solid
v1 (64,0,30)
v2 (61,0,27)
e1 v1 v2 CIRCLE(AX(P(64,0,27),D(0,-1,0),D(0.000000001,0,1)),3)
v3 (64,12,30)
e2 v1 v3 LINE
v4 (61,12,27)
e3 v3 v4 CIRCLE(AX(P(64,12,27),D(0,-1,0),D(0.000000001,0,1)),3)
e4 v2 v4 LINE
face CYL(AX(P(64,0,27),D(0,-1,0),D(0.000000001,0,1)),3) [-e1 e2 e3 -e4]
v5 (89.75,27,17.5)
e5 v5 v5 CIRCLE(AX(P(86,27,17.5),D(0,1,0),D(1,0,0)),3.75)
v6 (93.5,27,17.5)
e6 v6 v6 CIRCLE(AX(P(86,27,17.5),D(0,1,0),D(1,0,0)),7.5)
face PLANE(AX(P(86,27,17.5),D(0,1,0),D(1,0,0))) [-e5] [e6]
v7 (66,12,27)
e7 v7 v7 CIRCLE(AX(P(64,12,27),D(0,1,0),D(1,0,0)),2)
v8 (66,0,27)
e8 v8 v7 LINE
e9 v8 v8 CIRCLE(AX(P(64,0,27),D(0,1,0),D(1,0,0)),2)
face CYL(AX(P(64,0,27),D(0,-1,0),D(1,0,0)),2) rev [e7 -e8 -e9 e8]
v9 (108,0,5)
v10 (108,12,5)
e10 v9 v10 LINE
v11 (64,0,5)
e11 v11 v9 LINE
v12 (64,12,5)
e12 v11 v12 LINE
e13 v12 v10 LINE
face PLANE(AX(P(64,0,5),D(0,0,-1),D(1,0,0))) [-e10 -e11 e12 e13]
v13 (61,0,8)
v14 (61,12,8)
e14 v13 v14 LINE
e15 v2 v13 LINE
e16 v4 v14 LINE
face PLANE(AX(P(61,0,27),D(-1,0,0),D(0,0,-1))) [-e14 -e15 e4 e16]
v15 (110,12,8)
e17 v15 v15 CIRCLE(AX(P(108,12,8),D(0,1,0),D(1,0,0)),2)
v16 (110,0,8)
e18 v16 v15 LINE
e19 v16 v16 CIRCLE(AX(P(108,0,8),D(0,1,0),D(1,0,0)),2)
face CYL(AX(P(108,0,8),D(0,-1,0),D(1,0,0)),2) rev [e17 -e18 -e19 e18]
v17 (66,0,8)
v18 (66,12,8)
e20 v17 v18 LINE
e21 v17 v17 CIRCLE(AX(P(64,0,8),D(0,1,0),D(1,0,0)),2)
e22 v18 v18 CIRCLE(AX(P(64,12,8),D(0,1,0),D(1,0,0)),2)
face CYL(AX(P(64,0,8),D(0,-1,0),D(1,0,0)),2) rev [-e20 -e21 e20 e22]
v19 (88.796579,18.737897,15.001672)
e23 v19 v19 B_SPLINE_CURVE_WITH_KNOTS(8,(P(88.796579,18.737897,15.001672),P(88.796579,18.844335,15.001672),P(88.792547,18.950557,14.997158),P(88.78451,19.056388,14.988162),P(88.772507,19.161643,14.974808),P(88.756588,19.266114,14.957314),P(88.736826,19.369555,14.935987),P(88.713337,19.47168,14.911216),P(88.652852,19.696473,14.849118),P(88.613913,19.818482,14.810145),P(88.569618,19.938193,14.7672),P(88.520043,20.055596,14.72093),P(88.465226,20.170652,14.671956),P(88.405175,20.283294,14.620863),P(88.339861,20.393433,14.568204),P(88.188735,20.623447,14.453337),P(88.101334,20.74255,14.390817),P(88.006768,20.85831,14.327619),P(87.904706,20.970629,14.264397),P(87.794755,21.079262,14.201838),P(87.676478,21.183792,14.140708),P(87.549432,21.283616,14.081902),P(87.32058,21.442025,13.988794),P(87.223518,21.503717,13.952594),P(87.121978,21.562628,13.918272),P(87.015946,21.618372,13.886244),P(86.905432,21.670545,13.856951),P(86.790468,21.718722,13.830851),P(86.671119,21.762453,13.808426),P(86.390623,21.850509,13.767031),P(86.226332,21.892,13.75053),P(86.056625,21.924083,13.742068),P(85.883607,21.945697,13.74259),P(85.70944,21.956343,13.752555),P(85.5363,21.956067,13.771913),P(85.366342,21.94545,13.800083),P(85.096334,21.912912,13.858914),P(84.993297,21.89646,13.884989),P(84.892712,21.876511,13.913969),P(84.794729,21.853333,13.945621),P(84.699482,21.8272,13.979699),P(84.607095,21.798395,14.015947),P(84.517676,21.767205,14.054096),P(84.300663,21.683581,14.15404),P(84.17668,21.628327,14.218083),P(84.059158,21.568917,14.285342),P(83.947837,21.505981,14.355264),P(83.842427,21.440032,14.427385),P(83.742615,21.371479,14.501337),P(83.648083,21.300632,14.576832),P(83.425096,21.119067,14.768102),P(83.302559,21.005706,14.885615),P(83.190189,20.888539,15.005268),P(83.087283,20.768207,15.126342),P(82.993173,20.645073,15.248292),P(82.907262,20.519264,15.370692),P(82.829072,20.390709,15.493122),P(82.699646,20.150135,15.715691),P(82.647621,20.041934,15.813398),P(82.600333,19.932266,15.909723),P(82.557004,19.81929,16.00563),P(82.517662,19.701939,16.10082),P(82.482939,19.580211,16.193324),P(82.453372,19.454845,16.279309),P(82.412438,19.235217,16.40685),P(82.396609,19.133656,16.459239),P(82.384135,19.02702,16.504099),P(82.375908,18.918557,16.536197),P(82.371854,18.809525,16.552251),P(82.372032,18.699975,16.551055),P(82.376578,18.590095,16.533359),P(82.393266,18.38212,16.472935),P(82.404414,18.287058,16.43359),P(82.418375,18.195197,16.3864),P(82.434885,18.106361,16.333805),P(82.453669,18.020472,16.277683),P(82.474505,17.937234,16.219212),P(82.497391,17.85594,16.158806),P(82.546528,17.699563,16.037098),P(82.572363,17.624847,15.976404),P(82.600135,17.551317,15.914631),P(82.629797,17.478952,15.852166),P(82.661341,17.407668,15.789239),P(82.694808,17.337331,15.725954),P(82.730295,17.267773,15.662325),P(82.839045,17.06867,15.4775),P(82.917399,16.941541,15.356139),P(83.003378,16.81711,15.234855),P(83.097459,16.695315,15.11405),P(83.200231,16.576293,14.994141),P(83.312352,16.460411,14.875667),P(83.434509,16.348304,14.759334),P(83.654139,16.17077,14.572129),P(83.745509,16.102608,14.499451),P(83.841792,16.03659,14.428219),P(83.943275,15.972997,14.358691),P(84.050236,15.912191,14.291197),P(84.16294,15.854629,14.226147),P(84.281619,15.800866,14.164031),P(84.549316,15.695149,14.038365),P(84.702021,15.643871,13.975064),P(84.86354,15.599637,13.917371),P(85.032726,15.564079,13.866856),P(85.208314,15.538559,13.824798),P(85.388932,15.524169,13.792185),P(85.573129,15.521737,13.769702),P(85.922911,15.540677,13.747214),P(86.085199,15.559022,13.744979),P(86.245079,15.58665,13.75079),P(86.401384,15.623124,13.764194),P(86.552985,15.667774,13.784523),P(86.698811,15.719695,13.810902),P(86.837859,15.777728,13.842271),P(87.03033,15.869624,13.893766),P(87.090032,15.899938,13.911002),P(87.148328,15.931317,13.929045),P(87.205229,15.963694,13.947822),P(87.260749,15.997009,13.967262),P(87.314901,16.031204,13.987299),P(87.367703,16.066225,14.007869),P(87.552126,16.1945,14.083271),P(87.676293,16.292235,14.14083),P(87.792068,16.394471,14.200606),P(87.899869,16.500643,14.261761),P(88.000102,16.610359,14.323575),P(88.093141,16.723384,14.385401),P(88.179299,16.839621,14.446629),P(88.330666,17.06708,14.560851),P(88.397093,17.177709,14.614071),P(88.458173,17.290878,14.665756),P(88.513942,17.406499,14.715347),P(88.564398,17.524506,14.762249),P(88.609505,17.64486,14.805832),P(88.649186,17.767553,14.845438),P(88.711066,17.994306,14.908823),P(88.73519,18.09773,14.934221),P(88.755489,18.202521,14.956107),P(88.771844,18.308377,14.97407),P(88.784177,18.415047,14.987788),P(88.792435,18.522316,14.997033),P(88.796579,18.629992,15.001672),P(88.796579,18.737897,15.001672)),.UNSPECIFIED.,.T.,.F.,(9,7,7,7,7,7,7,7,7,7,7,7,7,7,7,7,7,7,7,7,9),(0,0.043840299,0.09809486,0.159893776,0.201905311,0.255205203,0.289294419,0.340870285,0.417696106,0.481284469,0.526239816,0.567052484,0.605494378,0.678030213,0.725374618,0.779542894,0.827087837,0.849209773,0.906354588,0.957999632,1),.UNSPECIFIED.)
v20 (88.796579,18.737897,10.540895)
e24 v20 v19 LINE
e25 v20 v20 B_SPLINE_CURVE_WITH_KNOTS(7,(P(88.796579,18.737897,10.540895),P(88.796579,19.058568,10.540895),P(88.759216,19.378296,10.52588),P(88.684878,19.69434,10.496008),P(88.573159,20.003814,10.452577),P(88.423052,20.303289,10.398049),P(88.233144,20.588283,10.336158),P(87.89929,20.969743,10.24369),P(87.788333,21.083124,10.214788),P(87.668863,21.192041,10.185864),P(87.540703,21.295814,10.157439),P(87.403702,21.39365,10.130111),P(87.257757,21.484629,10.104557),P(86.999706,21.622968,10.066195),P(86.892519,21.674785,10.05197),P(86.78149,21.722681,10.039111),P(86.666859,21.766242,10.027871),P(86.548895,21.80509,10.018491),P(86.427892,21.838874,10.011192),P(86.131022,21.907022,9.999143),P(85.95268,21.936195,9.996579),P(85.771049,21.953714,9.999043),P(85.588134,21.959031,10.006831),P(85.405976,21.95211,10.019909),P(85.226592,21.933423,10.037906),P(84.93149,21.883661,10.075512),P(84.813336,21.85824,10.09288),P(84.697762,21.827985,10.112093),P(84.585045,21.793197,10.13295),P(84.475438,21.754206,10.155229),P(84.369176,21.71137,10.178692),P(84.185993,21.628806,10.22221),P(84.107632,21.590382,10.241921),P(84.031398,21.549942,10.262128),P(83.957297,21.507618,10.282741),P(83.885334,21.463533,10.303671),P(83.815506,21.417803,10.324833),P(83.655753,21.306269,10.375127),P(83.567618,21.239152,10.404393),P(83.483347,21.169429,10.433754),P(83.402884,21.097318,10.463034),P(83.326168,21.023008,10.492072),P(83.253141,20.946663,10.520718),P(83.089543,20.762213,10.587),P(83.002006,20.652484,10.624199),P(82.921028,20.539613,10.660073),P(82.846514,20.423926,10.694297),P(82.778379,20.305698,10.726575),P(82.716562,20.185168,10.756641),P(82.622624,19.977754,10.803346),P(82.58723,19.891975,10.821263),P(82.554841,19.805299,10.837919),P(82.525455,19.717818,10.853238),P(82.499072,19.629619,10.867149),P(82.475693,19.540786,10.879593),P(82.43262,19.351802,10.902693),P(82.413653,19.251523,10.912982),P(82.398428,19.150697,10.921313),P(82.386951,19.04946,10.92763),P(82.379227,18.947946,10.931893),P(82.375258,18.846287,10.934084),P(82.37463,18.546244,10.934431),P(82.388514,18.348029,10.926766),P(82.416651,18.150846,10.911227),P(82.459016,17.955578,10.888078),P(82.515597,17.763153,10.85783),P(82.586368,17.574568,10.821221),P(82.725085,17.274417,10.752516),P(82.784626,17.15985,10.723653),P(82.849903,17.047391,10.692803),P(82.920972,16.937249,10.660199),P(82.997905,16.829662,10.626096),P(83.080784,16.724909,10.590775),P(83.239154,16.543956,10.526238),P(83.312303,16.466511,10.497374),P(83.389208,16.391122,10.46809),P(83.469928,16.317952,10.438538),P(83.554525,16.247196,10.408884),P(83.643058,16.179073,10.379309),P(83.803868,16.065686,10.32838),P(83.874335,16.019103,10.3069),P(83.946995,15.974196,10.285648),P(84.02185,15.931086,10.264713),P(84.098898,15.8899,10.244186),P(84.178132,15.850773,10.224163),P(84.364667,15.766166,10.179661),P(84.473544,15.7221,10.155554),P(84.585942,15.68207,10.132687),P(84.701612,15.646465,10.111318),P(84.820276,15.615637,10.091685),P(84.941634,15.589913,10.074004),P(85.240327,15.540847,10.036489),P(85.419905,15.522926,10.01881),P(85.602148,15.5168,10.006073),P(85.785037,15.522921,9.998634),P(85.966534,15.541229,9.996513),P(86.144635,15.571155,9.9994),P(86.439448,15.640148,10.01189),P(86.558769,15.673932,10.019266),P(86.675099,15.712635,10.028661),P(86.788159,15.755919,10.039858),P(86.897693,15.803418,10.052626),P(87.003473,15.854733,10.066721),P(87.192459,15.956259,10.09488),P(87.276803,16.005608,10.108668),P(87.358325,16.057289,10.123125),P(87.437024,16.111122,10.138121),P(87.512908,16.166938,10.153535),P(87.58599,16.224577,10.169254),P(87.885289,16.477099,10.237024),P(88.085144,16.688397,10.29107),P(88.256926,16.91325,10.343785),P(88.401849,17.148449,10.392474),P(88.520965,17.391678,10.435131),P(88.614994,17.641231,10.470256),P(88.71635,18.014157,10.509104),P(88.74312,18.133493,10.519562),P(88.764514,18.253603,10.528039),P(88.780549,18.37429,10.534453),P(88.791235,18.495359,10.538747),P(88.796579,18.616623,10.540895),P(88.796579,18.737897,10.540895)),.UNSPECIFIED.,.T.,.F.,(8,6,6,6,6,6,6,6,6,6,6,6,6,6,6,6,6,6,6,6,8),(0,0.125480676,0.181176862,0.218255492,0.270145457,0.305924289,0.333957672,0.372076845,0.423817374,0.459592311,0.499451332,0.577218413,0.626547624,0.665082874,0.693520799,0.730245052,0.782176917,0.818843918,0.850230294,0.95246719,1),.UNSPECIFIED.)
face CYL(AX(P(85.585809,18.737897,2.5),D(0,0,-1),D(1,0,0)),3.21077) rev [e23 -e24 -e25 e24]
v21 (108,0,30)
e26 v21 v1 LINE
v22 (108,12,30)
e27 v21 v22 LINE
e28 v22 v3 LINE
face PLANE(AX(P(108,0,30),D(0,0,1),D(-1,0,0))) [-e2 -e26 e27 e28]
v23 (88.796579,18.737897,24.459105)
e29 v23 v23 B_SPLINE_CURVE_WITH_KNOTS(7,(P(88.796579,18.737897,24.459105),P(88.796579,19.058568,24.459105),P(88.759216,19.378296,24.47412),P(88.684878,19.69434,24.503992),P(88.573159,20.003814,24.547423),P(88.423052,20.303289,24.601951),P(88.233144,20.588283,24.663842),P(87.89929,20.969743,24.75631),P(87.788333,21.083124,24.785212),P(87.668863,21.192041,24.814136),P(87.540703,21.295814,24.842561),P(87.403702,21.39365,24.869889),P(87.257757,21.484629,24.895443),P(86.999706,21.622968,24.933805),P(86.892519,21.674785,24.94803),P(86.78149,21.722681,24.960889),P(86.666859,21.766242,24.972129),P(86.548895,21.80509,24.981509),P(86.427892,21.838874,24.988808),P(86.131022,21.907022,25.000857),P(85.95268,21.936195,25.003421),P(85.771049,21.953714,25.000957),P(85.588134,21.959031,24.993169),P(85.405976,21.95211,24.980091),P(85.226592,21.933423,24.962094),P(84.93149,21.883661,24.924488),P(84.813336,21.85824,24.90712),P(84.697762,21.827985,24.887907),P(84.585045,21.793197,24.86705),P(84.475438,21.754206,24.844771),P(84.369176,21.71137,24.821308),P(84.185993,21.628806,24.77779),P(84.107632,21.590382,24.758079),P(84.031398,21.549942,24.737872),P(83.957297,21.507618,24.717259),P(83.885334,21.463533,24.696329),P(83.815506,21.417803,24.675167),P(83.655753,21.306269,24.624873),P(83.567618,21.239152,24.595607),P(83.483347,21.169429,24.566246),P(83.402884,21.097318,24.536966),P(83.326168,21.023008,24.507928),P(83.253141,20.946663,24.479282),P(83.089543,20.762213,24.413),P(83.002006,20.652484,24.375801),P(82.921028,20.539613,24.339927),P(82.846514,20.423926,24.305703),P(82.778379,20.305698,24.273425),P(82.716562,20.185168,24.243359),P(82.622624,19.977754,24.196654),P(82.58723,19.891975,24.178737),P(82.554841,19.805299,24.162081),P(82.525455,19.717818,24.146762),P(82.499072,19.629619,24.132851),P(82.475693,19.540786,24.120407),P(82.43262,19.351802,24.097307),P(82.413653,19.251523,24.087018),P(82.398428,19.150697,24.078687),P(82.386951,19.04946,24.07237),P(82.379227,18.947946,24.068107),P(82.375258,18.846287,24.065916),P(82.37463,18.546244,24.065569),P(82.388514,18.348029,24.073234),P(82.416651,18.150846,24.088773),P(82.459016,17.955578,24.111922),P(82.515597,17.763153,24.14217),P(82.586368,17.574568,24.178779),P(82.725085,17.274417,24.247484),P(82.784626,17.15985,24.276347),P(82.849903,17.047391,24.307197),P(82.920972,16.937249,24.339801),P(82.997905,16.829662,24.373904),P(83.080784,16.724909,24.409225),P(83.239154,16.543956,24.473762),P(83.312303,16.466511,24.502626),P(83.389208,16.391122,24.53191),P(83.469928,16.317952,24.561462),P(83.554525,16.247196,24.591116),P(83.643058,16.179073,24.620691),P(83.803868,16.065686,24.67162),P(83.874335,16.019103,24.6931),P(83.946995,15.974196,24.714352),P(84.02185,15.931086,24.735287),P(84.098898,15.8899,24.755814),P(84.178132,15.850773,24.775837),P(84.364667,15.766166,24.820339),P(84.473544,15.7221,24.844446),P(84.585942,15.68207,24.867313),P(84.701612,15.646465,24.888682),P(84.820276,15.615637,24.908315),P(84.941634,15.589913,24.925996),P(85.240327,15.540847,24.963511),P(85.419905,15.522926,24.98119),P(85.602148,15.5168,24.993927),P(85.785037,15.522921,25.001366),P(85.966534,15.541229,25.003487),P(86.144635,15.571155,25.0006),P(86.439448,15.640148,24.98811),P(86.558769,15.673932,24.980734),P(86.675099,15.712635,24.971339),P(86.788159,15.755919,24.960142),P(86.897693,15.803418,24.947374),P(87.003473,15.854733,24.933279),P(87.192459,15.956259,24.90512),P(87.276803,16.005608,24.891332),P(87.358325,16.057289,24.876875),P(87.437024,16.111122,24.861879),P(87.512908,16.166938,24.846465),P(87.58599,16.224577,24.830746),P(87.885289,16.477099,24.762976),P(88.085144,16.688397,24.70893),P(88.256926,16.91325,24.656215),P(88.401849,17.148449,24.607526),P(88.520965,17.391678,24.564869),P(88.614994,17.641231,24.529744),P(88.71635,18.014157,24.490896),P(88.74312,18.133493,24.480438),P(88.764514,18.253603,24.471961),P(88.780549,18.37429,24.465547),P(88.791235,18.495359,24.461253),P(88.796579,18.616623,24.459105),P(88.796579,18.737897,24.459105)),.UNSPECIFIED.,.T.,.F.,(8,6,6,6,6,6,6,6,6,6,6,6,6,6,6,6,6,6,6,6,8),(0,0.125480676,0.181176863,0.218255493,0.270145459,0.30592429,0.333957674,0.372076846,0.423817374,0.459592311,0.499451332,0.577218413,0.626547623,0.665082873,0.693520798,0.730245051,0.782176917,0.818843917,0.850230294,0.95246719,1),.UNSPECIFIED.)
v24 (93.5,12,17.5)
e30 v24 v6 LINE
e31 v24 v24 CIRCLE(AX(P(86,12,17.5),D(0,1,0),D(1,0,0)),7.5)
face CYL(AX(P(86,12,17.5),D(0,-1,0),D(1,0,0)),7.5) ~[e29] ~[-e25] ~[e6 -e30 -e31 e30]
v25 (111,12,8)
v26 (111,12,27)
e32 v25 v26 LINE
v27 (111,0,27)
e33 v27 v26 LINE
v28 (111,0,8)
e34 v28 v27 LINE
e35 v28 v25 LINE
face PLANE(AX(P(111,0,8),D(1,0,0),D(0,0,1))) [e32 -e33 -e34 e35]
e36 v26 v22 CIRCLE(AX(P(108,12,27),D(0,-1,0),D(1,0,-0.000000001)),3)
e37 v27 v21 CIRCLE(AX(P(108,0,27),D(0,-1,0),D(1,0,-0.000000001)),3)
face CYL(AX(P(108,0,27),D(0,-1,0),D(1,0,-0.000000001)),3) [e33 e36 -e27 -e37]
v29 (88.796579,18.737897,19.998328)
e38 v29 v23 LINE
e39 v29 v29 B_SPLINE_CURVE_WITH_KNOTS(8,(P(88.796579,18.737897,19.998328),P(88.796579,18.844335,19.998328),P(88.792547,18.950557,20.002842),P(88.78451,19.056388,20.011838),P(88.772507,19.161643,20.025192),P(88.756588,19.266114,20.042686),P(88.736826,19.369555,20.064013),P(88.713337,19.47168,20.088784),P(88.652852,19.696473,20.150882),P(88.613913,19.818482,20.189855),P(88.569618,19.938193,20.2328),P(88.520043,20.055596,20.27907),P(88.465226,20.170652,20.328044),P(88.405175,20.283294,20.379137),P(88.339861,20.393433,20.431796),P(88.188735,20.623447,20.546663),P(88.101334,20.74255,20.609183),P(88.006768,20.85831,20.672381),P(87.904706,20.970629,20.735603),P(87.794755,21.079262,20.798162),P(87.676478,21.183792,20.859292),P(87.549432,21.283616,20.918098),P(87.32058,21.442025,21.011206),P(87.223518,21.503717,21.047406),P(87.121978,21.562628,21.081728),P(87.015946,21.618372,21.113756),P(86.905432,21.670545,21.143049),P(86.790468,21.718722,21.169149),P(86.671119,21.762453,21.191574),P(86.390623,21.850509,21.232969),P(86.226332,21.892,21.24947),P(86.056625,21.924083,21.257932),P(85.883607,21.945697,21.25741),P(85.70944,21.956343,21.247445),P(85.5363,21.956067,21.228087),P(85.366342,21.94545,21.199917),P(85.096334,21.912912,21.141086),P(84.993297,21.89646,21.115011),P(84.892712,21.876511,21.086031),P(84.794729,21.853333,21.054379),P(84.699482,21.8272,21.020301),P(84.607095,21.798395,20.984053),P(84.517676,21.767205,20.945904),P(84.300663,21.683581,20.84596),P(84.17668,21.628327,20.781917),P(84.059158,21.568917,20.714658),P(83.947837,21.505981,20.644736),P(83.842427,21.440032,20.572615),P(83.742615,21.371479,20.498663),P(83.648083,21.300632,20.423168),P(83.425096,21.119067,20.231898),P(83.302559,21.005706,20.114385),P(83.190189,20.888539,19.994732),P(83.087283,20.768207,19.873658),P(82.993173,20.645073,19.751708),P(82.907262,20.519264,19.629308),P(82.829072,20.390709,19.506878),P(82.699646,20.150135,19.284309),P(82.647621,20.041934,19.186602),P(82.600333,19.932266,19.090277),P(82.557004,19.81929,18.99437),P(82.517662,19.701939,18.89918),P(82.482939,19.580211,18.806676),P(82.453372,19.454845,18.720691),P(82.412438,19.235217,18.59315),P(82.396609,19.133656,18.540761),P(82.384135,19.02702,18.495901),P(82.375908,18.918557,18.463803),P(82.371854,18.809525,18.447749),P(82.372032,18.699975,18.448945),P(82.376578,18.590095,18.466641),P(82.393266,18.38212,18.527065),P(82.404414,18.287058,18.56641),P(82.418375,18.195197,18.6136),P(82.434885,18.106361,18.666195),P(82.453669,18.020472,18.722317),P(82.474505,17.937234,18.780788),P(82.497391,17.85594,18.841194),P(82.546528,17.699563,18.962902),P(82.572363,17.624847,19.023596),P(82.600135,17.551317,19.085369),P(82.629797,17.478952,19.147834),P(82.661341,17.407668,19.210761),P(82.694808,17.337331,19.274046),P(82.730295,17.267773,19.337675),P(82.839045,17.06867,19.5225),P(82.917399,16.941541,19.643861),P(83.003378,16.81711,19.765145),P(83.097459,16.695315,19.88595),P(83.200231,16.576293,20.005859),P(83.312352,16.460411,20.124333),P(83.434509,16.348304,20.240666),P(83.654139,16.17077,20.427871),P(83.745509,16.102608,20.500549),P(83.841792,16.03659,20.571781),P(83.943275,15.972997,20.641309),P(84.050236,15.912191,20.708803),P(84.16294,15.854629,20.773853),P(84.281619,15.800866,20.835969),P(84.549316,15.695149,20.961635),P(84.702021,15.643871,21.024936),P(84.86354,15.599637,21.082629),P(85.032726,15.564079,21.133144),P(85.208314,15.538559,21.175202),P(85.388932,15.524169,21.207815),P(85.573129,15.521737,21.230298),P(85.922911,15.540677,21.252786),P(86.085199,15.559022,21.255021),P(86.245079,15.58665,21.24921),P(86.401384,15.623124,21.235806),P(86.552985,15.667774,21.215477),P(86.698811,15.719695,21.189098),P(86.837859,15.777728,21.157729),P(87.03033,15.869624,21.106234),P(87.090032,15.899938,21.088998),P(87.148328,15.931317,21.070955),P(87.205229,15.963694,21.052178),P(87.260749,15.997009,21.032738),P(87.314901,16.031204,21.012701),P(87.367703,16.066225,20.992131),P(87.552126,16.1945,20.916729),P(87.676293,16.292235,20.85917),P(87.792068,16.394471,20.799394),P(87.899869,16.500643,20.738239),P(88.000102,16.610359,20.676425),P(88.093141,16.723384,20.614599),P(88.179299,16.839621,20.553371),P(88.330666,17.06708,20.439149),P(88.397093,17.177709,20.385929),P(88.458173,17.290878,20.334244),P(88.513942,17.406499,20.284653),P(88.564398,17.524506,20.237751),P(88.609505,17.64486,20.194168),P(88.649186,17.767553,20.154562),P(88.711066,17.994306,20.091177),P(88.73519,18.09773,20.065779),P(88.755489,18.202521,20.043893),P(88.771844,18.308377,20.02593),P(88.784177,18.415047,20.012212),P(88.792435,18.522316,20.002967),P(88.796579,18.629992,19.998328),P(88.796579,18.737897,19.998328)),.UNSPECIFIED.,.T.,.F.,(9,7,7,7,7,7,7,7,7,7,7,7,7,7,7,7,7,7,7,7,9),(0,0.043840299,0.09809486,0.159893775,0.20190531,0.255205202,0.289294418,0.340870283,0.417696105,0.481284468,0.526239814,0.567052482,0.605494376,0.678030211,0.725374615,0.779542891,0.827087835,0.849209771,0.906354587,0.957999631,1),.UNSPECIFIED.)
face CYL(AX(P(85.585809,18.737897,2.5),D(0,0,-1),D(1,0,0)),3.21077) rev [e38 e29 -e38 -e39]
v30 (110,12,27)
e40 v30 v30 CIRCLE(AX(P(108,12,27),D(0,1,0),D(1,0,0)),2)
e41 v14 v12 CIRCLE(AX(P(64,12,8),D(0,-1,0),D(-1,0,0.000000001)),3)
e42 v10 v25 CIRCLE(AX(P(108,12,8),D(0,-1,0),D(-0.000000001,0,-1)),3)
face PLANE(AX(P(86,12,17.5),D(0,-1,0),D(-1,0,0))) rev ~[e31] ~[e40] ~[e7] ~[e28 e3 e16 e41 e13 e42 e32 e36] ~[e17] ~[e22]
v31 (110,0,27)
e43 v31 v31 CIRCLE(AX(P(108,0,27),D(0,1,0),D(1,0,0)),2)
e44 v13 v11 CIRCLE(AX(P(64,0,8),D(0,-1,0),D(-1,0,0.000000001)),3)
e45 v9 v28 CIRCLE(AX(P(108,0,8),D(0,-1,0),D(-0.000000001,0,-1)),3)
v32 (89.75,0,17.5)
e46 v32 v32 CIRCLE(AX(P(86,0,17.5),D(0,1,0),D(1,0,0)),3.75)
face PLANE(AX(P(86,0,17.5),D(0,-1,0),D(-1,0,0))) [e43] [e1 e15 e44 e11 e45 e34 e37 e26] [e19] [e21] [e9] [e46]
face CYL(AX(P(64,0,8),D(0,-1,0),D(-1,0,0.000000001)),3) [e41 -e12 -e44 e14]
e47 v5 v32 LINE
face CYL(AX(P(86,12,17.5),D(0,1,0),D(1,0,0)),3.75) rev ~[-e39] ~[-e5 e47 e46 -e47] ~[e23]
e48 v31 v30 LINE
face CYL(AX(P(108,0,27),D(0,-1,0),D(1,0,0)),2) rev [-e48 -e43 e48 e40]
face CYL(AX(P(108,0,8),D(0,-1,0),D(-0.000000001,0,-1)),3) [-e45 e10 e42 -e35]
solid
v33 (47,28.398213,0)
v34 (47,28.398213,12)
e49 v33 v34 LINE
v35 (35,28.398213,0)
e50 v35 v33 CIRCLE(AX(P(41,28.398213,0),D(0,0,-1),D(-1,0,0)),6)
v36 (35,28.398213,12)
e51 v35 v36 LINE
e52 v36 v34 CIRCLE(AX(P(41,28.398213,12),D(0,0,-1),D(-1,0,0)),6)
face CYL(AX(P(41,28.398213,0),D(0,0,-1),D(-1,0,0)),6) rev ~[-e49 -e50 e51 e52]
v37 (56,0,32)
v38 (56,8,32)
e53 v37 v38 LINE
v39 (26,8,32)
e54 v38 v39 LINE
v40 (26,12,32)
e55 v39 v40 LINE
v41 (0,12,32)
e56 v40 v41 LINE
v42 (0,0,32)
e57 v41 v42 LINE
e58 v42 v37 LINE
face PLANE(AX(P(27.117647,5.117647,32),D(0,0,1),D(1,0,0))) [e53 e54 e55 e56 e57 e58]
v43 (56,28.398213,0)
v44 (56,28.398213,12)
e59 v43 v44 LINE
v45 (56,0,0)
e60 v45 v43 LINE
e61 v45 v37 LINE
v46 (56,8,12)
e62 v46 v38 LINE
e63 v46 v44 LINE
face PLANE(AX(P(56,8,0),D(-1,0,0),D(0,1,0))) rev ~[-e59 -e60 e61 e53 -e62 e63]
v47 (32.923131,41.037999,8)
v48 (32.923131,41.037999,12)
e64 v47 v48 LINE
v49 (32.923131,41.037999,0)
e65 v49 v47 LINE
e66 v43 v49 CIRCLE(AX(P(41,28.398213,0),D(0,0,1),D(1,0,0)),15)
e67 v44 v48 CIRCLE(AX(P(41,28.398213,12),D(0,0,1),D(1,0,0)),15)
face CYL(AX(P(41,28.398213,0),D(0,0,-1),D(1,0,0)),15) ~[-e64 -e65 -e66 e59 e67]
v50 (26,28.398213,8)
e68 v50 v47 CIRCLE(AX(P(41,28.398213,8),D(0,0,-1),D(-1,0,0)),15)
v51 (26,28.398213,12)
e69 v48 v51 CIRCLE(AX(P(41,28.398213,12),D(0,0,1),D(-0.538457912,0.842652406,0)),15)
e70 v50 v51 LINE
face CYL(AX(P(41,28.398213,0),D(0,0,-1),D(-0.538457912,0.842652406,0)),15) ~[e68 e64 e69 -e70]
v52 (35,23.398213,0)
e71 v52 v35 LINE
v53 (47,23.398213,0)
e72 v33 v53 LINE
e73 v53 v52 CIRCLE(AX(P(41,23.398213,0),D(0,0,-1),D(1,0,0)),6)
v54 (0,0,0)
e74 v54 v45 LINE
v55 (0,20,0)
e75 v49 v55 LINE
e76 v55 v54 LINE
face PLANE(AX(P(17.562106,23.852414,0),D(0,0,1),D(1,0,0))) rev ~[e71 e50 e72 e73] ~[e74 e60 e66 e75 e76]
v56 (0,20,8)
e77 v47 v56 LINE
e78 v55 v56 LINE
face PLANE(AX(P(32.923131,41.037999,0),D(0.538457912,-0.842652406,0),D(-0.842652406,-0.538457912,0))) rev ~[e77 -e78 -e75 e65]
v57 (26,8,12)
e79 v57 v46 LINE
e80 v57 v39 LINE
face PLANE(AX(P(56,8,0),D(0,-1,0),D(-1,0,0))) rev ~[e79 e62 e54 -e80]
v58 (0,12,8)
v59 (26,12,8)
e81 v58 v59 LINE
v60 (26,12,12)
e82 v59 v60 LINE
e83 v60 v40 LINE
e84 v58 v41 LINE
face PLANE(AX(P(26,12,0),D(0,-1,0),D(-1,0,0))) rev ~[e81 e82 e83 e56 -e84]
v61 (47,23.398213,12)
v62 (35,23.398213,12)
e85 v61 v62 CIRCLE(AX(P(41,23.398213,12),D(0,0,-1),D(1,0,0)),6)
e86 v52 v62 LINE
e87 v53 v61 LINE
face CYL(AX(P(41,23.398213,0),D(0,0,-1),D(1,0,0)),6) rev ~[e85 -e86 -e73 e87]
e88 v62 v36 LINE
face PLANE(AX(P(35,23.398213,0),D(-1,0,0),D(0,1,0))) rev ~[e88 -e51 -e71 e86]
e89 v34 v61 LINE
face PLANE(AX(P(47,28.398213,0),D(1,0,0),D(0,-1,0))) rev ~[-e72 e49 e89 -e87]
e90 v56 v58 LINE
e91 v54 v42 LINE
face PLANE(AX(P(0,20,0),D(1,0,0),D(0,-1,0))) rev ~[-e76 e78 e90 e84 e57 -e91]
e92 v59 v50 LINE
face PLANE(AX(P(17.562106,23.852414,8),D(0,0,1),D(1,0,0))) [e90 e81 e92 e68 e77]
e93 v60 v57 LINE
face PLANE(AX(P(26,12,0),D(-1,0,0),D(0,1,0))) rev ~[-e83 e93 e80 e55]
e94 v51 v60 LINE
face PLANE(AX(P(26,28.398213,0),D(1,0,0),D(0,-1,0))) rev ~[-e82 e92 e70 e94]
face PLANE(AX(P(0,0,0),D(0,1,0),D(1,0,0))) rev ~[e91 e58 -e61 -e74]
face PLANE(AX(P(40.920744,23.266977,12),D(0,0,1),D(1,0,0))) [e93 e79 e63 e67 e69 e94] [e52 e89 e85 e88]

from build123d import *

# Parameters (mm, degrees)
EXTRUDE_1_DEPTH          = 32
EXTRUDE_2_DEPTH          = 8
EXTRUDE_3_DEPTH          = 12
SKETCH_2_R               = 2
EXTRUDE_4_DEPTH          = 12
SKETCH_3_R               = 7.5
SKETCH_3_R_2             = 3.75
EXTRUDE_5_DEPTH          = 15
SKETCH_3_5_R             = 3.75
CUT_EXTRUDE_2_DEPTH      = 15
CUT_EXTRUDE_3_DEPTH      = 15
CUT_EXTRUDE_3_DEPTH_BACK = 15
SKETCH_7_R               = 3.210770443


with BuildPart() as part:
    # 草图1 → 凸台-拉伸1 (new body)
    with BuildSketch(Plane.XY):
        Polygon((0, 12), (0, 0), (56, 0), (56, 8), (26, 8), (26, 12), align=None)
    extrude(amount=EXTRUDE_1_DEPTH)

    # 草图1<3> → 凸台-拉伸2 (add)
    with BuildSketch(Plane.XY):
        with BuildLine():
            Line((0, 20), (0, 12))
            Line((0, 12), (26, 12))
            Line((26, 12), (26, 28.398213008))
            ThreePointArc((26, 28.398213008), (27.844145216, 35.604008238), (32.923131319, 41.037999094))
            Line((32.923131319, 41.037999094), (0, 20))
        make_face()
    extrude(amount=EXTRUDE_2_DEPTH)

    # 草图1<4> → 凸台-拉伸3 (add)
    with BuildSketch(Plane.XY):
        with BuildLine():
            Line((26, 8), (56, 8))
            Line((56, 8), (56, 28.398213008))
            ThreePointArc((56, 28.398213008), (48.20579523, 41.554067792), (32.923131319, 41.037999094))
            ThreePointArc((32.923131319, 41.037999094), (27.844145216, 35.604008238), (26, 28.398213008))
            Line((26, 28.398213008), (26, 12))
            Line((26, 12), (26, 8))
        make_face()
        with BuildLine():
            ThreePointArc((35, 28.398213008), (41, 34.398213008), (47, 28.398213008))
            Line((47, 28.398213008), (47, 23.398213008))
            ThreePointArc((47, 23.398213008), (41, 17.398213008), (35, 23.398213008))
            Line((35, 23.398213008), (35, 28.398213008))
        make_face(mode=Mode.SUBTRACT)
    extrude(amount=EXTRUDE_3_DEPTH)


with BuildPart() as body_2:
    # 草图2 → 凸台-拉伸4 (new body)
    with BuildSketch(Plane(origin=(0, 0, 0), x_dir=(1, 0, 0), z_dir=(0, 1, 0))):
        with BuildLine():
            Line((64, -5), (108, -5))
            ThreePointArc((108, -5), (110.121320344, -5.878679656), (111, -8))
            Line((111, -8), (111, -27))
            ThreePointArc((111, -27), (110.121320344, -29.121320344), (108, -30))
            Line((108, -30), (64, -30))
            ThreePointArc((64, -30), (61.878679656, -29.121320344), (61, -27))
            Line((61, -27), (61, -8))
            ThreePointArc((61, -8), (61.878679656, -5.878679656), (64, -5))
        make_face()
        with Locations((64, -8)):
            Circle(SKETCH_2_R, mode=Mode.SUBTRACT)
        with Locations((64, -27)):
            Circle(SKETCH_2_R, mode=Mode.SUBTRACT)
        with Locations((108, -8)):
            Circle(SKETCH_2_R, mode=Mode.SUBTRACT)
        with Locations((108, -27)):
            Circle(SKETCH_2_R, mode=Mode.SUBTRACT)
    extrude(amount=EXTRUDE_4_DEPTH)

    # 草图3 → 凸台-拉伸5 (add)
    with BuildSketch(Plane(origin=(0, 12, 0), x_dir=(1, 0, 0), z_dir=(0, 1, 0))):
        with Locations((86, -17.5)):
            Circle(SKETCH_3_R)
        with Locations((86, -17.5)):
            Circle(SKETCH_3_R_2, mode=Mode.SUBTRACT)
    extrude(amount=EXTRUDE_5_DEPTH)

    # 草图3<5> → 切除-拉伸2 (cut)
    with BuildSketch(Plane(origin=(0, 12, 0), x_dir=(1, 0, 0), z_dir=(0, 1, 0))):
        with Locations((86, -17.5)):
            Circle(SKETCH_3_5_R)
    extrude(amount=-CUT_EXTRUDE_2_DEPTH, mode=Mode.SUBTRACT)

    # 草图7 → 切除-拉伸3 (cut, two sides: drawn at the far end of the back side and taken through both)
    with BuildSketch(Plane.XY.offset(17.5).offset(-CUT_EXTRUDE_3_DEPTH_BACK)):
        with Locations((85.585808846, 18.737897238)):
            Circle(SKETCH_7_R)
    extrude(amount=CUT_EXTRUDE_3_DEPTH + CUT_EXTRUDE_3_DEPTH_BACK, mode=Mode.SUBTRACT)


solid = Compound([part.part, body_2.part])
